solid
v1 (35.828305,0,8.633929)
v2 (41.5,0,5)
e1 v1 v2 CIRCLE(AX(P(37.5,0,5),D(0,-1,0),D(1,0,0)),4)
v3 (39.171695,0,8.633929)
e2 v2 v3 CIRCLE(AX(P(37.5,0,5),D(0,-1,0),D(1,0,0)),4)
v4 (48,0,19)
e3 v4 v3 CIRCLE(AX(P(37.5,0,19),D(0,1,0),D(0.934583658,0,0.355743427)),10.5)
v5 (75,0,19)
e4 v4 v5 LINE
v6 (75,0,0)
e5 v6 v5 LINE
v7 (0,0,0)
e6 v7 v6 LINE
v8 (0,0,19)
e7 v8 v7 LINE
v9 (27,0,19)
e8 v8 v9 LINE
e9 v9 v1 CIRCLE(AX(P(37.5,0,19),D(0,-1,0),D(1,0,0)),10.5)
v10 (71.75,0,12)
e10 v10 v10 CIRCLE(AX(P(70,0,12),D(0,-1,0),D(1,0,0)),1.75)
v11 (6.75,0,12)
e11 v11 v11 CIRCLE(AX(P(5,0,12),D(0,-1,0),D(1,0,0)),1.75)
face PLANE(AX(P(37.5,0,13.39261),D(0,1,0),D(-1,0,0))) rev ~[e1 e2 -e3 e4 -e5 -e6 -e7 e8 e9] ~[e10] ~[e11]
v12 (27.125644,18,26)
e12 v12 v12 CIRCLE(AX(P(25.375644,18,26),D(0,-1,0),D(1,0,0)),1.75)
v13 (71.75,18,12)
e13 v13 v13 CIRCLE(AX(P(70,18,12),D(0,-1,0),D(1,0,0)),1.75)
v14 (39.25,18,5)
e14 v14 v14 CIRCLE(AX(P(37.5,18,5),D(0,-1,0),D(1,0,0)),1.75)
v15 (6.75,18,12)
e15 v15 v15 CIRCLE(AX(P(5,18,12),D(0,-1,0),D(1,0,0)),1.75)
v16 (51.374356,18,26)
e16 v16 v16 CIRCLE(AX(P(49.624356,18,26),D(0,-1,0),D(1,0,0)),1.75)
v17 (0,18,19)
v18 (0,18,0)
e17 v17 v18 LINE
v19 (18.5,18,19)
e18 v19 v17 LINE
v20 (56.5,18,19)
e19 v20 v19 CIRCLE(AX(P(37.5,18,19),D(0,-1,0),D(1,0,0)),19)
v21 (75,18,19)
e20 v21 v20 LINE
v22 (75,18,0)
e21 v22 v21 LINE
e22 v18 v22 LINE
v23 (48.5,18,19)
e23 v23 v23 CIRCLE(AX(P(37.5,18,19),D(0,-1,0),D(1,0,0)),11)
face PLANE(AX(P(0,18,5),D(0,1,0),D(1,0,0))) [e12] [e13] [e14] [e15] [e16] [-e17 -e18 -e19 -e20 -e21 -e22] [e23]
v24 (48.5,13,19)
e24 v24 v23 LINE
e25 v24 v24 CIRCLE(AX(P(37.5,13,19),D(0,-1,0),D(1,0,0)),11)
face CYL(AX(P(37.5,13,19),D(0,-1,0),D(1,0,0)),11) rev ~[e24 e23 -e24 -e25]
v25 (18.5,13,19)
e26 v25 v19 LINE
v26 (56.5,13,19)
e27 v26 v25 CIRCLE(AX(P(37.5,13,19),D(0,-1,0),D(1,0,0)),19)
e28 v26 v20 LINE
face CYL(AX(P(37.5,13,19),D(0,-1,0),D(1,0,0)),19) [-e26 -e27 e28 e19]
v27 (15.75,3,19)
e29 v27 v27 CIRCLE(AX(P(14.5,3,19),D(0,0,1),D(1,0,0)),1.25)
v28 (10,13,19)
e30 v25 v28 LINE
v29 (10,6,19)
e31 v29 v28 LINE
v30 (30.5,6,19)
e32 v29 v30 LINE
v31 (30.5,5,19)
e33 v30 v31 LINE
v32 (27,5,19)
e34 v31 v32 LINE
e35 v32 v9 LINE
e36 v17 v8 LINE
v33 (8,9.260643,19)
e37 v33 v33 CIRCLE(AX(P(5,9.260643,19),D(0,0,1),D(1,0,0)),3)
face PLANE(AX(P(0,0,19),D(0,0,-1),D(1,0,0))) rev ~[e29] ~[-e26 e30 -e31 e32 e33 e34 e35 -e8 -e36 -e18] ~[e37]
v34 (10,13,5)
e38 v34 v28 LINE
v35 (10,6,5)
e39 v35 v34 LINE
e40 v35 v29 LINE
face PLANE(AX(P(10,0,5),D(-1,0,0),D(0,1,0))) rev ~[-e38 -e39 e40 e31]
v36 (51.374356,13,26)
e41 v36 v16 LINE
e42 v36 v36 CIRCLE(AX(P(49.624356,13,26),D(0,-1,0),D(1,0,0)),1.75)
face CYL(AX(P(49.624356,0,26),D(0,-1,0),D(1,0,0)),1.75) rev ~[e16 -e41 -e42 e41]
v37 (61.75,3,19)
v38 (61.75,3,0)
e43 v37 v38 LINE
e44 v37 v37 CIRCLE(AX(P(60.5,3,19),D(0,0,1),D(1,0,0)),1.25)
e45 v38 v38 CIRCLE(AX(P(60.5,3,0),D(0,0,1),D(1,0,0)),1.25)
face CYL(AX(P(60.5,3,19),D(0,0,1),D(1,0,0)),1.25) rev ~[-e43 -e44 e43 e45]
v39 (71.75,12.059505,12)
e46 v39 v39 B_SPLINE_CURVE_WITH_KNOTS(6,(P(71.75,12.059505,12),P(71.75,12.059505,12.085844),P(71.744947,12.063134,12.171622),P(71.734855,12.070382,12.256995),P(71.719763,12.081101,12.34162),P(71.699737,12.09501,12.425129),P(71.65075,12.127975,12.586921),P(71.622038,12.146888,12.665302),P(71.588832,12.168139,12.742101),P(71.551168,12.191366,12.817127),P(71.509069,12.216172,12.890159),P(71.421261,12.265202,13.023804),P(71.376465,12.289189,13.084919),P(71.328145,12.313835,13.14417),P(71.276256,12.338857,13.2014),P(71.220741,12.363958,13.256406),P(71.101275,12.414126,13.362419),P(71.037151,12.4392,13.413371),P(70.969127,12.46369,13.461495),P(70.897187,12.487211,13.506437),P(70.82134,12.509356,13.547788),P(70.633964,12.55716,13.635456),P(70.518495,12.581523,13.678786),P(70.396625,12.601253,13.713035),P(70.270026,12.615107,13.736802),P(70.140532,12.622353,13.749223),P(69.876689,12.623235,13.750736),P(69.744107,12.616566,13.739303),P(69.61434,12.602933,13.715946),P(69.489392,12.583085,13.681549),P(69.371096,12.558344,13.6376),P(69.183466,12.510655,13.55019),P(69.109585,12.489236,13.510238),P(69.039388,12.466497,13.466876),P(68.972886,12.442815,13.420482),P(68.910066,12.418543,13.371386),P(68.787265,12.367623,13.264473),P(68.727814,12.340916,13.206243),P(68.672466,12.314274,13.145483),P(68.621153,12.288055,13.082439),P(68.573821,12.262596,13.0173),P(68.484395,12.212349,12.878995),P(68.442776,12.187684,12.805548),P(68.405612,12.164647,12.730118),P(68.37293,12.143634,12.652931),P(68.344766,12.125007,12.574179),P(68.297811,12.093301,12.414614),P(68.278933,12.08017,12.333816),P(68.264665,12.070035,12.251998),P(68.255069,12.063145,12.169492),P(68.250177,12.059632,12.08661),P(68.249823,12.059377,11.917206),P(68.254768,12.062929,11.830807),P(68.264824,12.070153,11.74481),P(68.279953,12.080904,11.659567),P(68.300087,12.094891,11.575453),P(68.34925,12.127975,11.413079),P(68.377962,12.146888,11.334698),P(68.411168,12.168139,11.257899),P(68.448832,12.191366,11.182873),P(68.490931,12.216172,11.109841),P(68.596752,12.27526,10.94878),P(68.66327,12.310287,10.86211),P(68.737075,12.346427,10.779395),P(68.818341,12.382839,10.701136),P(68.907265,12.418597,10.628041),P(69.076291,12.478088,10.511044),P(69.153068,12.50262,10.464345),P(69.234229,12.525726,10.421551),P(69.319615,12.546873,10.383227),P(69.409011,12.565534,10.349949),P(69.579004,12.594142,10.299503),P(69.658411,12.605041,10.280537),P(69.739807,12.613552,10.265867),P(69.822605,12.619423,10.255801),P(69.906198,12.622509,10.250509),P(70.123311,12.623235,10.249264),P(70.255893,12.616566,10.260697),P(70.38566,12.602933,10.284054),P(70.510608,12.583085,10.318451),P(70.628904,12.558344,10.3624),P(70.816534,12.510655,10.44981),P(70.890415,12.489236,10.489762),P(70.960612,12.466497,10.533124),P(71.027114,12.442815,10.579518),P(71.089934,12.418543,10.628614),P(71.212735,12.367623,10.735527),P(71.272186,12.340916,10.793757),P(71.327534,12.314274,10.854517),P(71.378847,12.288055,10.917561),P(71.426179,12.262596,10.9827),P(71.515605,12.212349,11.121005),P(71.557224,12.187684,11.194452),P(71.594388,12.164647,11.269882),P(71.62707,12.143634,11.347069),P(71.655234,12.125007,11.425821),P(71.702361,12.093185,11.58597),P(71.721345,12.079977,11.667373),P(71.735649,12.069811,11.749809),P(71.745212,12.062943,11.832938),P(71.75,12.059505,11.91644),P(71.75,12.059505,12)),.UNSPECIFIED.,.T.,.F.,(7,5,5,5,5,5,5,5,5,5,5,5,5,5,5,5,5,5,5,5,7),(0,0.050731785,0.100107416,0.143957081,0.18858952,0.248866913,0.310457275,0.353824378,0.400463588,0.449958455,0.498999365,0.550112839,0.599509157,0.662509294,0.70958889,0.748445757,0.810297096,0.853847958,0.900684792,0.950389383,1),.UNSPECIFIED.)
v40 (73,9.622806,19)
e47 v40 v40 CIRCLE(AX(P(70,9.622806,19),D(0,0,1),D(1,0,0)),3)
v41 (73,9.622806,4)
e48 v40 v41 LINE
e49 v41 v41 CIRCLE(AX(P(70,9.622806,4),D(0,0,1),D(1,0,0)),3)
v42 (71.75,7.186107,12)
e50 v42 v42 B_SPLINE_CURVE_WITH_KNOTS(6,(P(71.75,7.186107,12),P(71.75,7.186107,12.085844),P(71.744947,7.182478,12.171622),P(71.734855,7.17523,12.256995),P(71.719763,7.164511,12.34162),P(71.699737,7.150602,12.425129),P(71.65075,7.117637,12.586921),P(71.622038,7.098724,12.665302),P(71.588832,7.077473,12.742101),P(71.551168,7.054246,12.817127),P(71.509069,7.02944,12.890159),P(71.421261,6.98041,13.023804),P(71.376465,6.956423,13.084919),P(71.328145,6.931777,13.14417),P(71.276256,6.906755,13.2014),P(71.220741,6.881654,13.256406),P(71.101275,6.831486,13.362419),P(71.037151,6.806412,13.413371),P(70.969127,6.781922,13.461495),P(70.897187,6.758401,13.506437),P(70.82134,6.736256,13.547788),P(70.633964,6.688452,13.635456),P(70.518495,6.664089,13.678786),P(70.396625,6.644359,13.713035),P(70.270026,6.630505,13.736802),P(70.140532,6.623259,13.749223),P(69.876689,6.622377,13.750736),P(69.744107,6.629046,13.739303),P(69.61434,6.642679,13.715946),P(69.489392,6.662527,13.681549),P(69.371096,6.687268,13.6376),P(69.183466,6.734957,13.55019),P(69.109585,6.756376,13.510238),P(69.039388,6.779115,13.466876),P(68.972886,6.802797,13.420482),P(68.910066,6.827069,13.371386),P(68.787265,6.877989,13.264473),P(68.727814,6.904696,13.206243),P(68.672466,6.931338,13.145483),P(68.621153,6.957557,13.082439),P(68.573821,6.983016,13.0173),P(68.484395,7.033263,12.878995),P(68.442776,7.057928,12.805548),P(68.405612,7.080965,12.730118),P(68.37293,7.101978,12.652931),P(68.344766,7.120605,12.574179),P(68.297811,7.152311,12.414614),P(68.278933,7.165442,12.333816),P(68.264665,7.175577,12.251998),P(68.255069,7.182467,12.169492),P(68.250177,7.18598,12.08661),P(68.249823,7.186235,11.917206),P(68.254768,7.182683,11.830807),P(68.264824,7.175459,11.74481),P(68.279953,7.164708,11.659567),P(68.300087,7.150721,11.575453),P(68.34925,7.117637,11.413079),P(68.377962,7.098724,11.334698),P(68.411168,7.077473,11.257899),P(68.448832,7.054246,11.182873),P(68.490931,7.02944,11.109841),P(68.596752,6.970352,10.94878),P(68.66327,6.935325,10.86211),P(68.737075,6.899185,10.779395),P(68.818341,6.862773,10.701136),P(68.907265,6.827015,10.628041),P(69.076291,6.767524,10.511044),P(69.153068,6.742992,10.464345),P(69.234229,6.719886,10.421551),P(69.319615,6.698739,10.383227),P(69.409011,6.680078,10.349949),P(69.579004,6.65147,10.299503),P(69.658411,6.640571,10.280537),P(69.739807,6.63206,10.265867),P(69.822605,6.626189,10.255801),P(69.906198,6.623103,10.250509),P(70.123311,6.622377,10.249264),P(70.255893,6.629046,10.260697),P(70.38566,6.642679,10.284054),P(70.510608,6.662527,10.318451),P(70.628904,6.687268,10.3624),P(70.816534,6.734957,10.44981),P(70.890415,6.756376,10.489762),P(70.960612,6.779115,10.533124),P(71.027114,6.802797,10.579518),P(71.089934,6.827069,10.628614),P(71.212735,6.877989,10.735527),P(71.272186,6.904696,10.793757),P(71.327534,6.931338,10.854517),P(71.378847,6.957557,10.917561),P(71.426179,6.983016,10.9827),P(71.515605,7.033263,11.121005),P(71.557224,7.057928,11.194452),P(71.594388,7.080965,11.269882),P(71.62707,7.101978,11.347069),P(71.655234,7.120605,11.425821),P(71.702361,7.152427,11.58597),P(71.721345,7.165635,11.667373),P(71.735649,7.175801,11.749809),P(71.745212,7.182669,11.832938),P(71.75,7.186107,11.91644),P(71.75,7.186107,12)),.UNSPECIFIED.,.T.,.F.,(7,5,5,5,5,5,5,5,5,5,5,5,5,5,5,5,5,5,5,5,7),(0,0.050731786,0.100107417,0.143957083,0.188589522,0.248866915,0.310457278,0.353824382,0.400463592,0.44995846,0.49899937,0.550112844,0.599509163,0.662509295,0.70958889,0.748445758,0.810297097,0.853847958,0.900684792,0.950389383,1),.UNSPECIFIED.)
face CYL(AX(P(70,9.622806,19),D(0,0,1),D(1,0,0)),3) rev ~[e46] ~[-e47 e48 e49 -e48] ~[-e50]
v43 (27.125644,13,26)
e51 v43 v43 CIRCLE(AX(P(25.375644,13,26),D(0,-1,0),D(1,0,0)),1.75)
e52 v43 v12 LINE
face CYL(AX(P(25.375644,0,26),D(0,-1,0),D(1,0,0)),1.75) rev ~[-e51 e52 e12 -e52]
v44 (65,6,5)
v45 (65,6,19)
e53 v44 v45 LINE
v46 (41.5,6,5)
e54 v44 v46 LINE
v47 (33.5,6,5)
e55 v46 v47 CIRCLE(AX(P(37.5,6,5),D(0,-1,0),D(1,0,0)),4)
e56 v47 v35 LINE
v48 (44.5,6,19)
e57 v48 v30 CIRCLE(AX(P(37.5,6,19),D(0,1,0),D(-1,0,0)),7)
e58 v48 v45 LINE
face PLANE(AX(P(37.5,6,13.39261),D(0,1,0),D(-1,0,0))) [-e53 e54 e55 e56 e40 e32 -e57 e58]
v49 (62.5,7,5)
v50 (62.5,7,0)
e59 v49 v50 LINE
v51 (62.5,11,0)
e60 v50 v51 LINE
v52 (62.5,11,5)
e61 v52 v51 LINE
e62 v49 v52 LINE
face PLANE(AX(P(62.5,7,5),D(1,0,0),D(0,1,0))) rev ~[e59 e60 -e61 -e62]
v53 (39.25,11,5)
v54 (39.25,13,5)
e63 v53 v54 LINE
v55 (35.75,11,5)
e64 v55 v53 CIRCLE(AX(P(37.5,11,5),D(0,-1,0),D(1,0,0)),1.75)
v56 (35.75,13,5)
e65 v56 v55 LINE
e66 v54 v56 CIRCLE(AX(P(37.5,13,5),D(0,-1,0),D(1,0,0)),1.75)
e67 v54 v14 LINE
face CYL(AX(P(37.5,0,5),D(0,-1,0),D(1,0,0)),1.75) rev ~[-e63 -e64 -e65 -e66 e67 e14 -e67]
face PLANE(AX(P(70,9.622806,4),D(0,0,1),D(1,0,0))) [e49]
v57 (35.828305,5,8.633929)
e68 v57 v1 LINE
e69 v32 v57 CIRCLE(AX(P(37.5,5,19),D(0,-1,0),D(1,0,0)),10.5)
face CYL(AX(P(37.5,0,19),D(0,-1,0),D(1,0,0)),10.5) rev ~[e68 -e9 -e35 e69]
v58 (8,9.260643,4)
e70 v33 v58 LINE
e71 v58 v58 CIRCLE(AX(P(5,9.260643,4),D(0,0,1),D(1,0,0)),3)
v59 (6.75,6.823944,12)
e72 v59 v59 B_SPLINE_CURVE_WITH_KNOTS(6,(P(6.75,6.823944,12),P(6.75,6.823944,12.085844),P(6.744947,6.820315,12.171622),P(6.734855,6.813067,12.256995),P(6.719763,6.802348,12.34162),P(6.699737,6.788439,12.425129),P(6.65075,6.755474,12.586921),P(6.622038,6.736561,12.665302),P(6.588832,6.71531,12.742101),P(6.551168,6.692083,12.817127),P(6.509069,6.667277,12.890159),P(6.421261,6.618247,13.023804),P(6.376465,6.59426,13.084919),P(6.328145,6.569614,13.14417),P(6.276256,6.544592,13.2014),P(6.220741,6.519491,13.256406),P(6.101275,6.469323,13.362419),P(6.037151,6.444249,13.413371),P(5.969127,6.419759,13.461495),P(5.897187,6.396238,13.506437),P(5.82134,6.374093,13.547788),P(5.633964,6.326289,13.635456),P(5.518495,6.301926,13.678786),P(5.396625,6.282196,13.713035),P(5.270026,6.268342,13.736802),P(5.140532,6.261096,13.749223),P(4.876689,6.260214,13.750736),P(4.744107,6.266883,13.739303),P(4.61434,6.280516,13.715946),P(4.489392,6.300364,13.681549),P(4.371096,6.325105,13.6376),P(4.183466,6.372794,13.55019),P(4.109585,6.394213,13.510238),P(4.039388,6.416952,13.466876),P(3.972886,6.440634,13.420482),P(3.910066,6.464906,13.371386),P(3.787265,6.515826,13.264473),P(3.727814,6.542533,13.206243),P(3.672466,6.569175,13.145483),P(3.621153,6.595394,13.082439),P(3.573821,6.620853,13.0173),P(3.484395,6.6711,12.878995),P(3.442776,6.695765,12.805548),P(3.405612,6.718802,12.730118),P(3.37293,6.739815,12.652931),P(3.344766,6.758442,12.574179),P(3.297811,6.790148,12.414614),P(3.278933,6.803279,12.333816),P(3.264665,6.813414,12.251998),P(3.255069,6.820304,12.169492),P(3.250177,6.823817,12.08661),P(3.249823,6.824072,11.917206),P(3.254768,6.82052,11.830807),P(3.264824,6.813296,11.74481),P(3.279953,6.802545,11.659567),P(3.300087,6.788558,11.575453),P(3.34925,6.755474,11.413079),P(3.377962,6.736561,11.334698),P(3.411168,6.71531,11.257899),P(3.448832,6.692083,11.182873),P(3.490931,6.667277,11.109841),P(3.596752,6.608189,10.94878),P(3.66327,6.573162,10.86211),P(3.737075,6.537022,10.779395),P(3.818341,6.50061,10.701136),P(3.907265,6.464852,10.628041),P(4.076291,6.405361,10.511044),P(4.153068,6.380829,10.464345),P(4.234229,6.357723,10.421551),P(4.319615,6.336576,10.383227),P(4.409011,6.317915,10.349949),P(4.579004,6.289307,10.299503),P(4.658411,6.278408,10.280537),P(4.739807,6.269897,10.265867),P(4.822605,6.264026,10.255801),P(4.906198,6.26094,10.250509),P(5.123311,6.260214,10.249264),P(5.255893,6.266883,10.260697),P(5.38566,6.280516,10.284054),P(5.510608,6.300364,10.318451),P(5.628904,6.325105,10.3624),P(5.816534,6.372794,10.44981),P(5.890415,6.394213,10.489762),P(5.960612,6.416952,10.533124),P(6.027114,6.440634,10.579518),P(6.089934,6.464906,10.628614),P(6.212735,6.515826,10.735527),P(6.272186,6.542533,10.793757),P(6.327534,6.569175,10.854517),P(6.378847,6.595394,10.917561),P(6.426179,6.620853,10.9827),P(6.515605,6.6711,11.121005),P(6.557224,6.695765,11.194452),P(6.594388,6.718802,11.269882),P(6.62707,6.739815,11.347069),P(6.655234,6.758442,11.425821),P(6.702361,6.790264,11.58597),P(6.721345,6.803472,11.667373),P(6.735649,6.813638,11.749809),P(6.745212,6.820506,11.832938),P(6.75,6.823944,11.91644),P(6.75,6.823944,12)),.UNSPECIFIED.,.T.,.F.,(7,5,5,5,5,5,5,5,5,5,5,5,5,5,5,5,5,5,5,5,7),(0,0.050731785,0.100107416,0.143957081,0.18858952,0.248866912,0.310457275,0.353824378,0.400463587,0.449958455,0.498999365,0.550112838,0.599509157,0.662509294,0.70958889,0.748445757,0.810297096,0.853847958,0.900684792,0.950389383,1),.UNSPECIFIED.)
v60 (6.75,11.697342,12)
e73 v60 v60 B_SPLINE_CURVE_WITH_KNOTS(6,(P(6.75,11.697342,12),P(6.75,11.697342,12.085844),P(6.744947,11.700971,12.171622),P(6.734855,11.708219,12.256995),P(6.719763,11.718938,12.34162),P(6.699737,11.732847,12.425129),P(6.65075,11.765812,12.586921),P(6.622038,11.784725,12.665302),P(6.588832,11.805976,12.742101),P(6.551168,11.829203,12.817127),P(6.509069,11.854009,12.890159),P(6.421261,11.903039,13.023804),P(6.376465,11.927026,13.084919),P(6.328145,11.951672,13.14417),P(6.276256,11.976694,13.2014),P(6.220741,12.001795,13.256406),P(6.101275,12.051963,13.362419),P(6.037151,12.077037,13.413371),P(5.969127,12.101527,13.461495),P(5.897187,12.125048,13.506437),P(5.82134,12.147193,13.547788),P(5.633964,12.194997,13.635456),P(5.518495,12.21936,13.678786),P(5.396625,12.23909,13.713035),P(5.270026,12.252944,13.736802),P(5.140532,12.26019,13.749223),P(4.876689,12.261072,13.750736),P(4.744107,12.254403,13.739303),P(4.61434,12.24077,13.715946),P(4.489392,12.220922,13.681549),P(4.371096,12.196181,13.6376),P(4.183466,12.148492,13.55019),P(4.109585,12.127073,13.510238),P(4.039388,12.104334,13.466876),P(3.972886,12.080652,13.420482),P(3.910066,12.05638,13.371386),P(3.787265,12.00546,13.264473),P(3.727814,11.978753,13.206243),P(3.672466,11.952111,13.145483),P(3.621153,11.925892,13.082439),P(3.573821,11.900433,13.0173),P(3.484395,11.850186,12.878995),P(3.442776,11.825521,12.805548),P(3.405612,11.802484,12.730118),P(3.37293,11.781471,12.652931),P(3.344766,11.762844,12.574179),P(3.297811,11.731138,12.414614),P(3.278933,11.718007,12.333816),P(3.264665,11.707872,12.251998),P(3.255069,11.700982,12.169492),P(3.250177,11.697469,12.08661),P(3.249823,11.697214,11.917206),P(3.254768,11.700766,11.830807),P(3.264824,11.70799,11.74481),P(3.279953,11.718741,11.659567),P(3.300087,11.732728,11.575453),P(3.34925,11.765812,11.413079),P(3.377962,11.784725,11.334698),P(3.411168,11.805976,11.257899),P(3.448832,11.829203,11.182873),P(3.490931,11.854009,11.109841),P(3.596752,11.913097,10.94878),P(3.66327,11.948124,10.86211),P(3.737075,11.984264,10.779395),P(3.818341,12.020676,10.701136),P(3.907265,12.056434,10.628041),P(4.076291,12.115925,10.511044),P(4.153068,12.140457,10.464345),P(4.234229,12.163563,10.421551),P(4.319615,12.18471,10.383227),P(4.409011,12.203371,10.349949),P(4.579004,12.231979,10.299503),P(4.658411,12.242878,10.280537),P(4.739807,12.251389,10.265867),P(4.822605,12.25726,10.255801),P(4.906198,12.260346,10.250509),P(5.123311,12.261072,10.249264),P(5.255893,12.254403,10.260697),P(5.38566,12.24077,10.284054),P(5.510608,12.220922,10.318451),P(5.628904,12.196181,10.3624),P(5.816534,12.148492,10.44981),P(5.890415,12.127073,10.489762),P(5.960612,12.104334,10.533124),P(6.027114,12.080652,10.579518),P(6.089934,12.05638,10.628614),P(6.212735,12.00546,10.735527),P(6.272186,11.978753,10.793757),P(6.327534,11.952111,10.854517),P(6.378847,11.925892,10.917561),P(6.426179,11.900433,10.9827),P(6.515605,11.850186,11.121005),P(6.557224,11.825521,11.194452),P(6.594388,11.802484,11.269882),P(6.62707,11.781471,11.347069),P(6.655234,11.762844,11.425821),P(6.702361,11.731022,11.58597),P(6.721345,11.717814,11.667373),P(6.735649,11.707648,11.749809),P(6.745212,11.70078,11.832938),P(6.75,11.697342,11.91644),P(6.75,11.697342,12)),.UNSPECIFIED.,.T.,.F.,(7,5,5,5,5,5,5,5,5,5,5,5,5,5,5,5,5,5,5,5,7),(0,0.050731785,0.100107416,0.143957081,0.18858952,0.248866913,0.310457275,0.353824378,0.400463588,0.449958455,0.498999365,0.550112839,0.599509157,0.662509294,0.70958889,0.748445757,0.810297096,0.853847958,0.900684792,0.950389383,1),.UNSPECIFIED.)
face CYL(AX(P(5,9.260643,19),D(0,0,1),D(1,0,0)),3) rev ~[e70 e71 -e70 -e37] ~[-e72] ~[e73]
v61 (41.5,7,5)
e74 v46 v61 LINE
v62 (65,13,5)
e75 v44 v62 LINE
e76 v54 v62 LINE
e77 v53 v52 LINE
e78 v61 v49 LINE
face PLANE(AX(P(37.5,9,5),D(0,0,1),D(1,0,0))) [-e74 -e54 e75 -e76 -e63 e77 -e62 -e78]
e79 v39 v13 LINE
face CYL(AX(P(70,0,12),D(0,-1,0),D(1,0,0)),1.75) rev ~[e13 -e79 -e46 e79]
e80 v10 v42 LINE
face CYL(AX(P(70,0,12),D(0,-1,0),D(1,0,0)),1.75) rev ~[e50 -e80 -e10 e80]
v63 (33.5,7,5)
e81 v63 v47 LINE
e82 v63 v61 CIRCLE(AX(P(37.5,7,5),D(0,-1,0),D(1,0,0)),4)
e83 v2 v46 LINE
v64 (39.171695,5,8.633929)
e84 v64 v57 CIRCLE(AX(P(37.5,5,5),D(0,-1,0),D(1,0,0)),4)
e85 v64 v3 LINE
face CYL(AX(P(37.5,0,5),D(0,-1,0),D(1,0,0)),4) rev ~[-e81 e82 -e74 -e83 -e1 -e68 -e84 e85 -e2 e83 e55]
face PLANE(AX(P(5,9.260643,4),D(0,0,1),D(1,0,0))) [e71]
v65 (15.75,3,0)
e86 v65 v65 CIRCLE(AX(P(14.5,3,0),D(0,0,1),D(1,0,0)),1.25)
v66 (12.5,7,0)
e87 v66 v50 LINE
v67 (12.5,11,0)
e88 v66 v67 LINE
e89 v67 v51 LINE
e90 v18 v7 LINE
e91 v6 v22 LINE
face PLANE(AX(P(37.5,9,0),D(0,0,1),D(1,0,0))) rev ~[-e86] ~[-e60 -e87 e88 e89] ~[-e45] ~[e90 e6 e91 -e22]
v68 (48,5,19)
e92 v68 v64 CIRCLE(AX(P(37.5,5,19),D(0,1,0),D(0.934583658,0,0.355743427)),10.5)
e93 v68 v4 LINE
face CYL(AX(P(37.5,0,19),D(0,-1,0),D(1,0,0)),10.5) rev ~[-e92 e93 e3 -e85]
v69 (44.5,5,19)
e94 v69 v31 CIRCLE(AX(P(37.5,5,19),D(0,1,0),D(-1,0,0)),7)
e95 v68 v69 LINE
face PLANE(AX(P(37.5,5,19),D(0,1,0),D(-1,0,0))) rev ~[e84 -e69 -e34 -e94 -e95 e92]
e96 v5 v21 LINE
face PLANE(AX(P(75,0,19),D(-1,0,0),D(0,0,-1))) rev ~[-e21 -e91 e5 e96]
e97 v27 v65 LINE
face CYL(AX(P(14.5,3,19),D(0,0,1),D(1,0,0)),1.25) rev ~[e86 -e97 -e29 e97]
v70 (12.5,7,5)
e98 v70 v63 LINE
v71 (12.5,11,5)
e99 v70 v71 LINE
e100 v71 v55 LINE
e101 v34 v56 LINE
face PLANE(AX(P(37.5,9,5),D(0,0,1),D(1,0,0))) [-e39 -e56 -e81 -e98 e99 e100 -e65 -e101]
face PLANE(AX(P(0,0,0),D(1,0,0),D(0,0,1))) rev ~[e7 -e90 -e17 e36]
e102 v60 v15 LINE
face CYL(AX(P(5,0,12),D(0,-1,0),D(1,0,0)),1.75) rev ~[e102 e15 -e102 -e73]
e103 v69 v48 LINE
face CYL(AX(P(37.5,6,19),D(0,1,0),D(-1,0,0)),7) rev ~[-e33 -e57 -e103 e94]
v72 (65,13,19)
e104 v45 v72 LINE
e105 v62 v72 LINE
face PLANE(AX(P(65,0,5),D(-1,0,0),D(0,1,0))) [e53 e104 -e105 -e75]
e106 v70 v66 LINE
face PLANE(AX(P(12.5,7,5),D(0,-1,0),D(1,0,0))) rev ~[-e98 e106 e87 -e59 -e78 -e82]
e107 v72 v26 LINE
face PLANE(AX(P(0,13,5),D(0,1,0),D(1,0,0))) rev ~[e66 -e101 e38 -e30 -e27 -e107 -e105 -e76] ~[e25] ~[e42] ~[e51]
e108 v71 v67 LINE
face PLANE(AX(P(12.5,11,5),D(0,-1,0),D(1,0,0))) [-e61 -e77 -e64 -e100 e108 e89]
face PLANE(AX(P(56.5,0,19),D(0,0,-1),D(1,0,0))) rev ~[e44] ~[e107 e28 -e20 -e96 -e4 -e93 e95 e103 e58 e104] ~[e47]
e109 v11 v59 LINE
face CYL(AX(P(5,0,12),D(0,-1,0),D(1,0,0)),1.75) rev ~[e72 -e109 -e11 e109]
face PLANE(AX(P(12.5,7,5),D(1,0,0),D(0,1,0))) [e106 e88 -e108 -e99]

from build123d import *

# Parameters (mm, degrees)
SKETCH_W        = 75
SKETCH_H        = 18
PAD_DEPTH       = 5
SKETCH001_W     = 50
SKETCH001_H     = 4
POCKET_DEPTH    = 5.001
SKETCH002_W     = 75
SKETCH002_H     = 5
PAD001_DEPTH    = 38
POCKET001_DEPTH = 5
SKETCH004_R     = 11
POCKET002_DEPTH = 5.001
SKETCH005_R     = 10.5
PAD002_DEPTH    = 6
SKETCH006_W     = 10
SKETCH006_H     = 18
PAD003_DEPTH    = 14
SKETCH007_R     = 3
POCKET003_DEPTH = 15
SKETCH008_R     = 16
SKETCH008_R_2   = 7
PAD004_DEPTH    = 1
SKETCH009_R     = 1.75
POCKET004_DEPTH = 18.001
SKETCH010_R     = 4
POCKET005_DEPTH = 8
SKETCH011_R     = 1.75
POCKET006_DEPTH = 18.001
SKETCH012_W     = 100
SKETCH012_H     = 30
POCKET007_DEPTH = 6
SKETCH013_R     = 1.25
HOLE_DEPTH      = 25


with BuildPart() as part:
    # Sketch → Pad (new body)
    with BuildSketch(Plane.XY):
        with Locations((37.5, 9)):
            Rectangle(SKETCH_W, SKETCH_H)
    extrude(amount=PAD_DEPTH)

    # Sketch001 (on Face6 of Pad) → Pocket (cut, through all)
    with BuildSketch(Plane.XY.offset(5)):
        with Locations((37.5, 9)):
            Rectangle(SKETCH001_W, SKETCH001_H)
    extrude(amount=-POCKET_DEPTH, mode=Mode.SUBTRACT)

    # Sketch002 (on Face5 of Pocket) → Pad001 (join)
    with BuildSketch(Plane.XY.offset(5)):
        with Locations((37.5, 15.5)):
            Rectangle(SKETCH002_W, SKETCH002_H)
    extrude(amount=PAD001_DEPTH)

    # Sketch003 (on Face13 of Pad001) → Pocket001 (cut)
    with BuildSketch(Plane.XZ.offset(-13)):
        with BuildLine():
            ThreePointArc((56.5, 19), (37.5, 38), (18.5, 19))
            Line((18.5, 19), (-1.5, 19))
            Line((-1.5, 19), (-1.5, 49))
            Line((-1.5, 49), (76.5, 49))
            Line((76.5, 49), (76.5, 19))
            Line((76.5, 19), (56.5, 19))
        make_face()
    extrude(amount=-POCKET001_DEPTH, mode=Mode.SUBTRACT)

    # Sketch004 → Pocket002 (cut, through all)
    with BuildSketch(Plane.XZ.offset(-13)):
        with Locations((37.5, 19)):
            Circle(SKETCH004_R)
    extrude(amount=-POCKET002_DEPTH, mode=Mode.SUBTRACT)

    # Sketch005 (on Face1 of Pocket002) → Pad002 (join)
    with BuildSketch(Plane.XZ):
        with BuildLine():
            Line((56.5, 19), (75, 19))
            Line((75, 19), (75, 0))
            Line((75, 0), (0, 0))
            Line((0, 0), (0, 19))
            Line((0, 19), (18.5, 19))
            ThreePointArc((56.5, 19), (37.5, 38), (18.5, 19))
        make_face()
        with Locations((37.5, 19)):
            Circle(SKETCH005_R, mode=Mode.SUBTRACT)
    extrude(amount=-PAD002_DEPTH)

    # Sketch006 (on Face8 of Pad002) → Pad003 (join)
    with BuildSketch(Plane.XY.offset(5)):
        with Locations((5, 9)):
            Rectangle(SKETCH006_W, SKETCH006_H)
        with Locations((70, 9)):
            Rectangle(SKETCH006_W, SKETCH006_H)
    extrude(amount=PAD003_DEPTH)

    # Sketch007 (on Face23 of Pad003) → Pocket003 (cut)
    with BuildSketch(Plane.XY.offset(19)):
        with Locations((5, 9.260643)):
            Circle(SKETCH007_R)
        with Locations((70, 9.622806)):
            Circle(SKETCH007_R)
    extrude(amount=-POCKET003_DEPTH, mode=Mode.SUBTRACT)

    # Sketch008 (on Face35 of Pad003) → Pad004 (join)
    with BuildSketch(Plane(origin=(0, 6, 0), x_dir=(-1, 0, 0), z_dir=(0, 1, 0))):
        with Locations((-37.5, 19)):
            Circle(SKETCH008_R)
        with Locations((-37.5, 19)):
            Circle(SKETCH008_R_2, mode=Mode.SUBTRACT)
    extrude(amount=-PAD004_DEPTH)

    # Sketch009 (on Face31 of Pad004) → Pocket004 (cut, through all)
    with BuildSketch(Plane.XZ):
        with Locations((5, 12)):
            Circle(SKETCH009_R)
        with Locations((70, 12)):
            Circle(SKETCH009_R)
    extrude(amount=-POCKET004_DEPTH, mode=Mode.SUBTRACT)

    # Sketch010 (on Face34 of Pocket004) → Pocket005 (cut)
    with BuildSketch(Plane.XZ):
        with Locations((37.5, 5)):
            Circle(SKETCH010_R)
        with Locations((25.375644, 26)):
            Circle(SKETCH010_R)
        with Locations((49.624356, 26)):
            Circle(SKETCH010_R)
    extrude(amount=-POCKET005_DEPTH, mode=Mode.SUBTRACT)

    # Sketch011 (on Face34 of Pocket005) → Pocket006 (cut, through all)
    with BuildSketch(Plane.XZ):
        with Locations((25.375644, 26)):
            Circle(SKETCH011_R)
        with Locations((37.5, 5)):
            Circle(SKETCH011_R)
        with Locations((49.624356, 26)):
            Circle(SKETCH011_R)
    extrude(amount=-POCKET006_DEPTH, mode=Mode.SUBTRACT)

    # Sketch012 (on Face40 of Pocket006) → Pocket007 (cut)
    with BuildSketch(Plane.XZ):
        with Locations((50, 34)):
            Rectangle(SKETCH012_W, SKETCH012_H)
    extrude(amount=-POCKET007_DEPTH, mode=Mode.SUBTRACT)

    # Sketch013 (on Face60 of Pocket007) → Hole (cut)
    with BuildSketch(Plane.XY.offset(19)):
        with Locations((14.5, 3)):
            Circle(SKETCH013_R)
        with Locations((60.5, 3)):
            Circle(SKETCH013_R)
    extrude(amount=-HOLE_DEPTH, mode=Mode.SUBTRACT)


solid = part.part
